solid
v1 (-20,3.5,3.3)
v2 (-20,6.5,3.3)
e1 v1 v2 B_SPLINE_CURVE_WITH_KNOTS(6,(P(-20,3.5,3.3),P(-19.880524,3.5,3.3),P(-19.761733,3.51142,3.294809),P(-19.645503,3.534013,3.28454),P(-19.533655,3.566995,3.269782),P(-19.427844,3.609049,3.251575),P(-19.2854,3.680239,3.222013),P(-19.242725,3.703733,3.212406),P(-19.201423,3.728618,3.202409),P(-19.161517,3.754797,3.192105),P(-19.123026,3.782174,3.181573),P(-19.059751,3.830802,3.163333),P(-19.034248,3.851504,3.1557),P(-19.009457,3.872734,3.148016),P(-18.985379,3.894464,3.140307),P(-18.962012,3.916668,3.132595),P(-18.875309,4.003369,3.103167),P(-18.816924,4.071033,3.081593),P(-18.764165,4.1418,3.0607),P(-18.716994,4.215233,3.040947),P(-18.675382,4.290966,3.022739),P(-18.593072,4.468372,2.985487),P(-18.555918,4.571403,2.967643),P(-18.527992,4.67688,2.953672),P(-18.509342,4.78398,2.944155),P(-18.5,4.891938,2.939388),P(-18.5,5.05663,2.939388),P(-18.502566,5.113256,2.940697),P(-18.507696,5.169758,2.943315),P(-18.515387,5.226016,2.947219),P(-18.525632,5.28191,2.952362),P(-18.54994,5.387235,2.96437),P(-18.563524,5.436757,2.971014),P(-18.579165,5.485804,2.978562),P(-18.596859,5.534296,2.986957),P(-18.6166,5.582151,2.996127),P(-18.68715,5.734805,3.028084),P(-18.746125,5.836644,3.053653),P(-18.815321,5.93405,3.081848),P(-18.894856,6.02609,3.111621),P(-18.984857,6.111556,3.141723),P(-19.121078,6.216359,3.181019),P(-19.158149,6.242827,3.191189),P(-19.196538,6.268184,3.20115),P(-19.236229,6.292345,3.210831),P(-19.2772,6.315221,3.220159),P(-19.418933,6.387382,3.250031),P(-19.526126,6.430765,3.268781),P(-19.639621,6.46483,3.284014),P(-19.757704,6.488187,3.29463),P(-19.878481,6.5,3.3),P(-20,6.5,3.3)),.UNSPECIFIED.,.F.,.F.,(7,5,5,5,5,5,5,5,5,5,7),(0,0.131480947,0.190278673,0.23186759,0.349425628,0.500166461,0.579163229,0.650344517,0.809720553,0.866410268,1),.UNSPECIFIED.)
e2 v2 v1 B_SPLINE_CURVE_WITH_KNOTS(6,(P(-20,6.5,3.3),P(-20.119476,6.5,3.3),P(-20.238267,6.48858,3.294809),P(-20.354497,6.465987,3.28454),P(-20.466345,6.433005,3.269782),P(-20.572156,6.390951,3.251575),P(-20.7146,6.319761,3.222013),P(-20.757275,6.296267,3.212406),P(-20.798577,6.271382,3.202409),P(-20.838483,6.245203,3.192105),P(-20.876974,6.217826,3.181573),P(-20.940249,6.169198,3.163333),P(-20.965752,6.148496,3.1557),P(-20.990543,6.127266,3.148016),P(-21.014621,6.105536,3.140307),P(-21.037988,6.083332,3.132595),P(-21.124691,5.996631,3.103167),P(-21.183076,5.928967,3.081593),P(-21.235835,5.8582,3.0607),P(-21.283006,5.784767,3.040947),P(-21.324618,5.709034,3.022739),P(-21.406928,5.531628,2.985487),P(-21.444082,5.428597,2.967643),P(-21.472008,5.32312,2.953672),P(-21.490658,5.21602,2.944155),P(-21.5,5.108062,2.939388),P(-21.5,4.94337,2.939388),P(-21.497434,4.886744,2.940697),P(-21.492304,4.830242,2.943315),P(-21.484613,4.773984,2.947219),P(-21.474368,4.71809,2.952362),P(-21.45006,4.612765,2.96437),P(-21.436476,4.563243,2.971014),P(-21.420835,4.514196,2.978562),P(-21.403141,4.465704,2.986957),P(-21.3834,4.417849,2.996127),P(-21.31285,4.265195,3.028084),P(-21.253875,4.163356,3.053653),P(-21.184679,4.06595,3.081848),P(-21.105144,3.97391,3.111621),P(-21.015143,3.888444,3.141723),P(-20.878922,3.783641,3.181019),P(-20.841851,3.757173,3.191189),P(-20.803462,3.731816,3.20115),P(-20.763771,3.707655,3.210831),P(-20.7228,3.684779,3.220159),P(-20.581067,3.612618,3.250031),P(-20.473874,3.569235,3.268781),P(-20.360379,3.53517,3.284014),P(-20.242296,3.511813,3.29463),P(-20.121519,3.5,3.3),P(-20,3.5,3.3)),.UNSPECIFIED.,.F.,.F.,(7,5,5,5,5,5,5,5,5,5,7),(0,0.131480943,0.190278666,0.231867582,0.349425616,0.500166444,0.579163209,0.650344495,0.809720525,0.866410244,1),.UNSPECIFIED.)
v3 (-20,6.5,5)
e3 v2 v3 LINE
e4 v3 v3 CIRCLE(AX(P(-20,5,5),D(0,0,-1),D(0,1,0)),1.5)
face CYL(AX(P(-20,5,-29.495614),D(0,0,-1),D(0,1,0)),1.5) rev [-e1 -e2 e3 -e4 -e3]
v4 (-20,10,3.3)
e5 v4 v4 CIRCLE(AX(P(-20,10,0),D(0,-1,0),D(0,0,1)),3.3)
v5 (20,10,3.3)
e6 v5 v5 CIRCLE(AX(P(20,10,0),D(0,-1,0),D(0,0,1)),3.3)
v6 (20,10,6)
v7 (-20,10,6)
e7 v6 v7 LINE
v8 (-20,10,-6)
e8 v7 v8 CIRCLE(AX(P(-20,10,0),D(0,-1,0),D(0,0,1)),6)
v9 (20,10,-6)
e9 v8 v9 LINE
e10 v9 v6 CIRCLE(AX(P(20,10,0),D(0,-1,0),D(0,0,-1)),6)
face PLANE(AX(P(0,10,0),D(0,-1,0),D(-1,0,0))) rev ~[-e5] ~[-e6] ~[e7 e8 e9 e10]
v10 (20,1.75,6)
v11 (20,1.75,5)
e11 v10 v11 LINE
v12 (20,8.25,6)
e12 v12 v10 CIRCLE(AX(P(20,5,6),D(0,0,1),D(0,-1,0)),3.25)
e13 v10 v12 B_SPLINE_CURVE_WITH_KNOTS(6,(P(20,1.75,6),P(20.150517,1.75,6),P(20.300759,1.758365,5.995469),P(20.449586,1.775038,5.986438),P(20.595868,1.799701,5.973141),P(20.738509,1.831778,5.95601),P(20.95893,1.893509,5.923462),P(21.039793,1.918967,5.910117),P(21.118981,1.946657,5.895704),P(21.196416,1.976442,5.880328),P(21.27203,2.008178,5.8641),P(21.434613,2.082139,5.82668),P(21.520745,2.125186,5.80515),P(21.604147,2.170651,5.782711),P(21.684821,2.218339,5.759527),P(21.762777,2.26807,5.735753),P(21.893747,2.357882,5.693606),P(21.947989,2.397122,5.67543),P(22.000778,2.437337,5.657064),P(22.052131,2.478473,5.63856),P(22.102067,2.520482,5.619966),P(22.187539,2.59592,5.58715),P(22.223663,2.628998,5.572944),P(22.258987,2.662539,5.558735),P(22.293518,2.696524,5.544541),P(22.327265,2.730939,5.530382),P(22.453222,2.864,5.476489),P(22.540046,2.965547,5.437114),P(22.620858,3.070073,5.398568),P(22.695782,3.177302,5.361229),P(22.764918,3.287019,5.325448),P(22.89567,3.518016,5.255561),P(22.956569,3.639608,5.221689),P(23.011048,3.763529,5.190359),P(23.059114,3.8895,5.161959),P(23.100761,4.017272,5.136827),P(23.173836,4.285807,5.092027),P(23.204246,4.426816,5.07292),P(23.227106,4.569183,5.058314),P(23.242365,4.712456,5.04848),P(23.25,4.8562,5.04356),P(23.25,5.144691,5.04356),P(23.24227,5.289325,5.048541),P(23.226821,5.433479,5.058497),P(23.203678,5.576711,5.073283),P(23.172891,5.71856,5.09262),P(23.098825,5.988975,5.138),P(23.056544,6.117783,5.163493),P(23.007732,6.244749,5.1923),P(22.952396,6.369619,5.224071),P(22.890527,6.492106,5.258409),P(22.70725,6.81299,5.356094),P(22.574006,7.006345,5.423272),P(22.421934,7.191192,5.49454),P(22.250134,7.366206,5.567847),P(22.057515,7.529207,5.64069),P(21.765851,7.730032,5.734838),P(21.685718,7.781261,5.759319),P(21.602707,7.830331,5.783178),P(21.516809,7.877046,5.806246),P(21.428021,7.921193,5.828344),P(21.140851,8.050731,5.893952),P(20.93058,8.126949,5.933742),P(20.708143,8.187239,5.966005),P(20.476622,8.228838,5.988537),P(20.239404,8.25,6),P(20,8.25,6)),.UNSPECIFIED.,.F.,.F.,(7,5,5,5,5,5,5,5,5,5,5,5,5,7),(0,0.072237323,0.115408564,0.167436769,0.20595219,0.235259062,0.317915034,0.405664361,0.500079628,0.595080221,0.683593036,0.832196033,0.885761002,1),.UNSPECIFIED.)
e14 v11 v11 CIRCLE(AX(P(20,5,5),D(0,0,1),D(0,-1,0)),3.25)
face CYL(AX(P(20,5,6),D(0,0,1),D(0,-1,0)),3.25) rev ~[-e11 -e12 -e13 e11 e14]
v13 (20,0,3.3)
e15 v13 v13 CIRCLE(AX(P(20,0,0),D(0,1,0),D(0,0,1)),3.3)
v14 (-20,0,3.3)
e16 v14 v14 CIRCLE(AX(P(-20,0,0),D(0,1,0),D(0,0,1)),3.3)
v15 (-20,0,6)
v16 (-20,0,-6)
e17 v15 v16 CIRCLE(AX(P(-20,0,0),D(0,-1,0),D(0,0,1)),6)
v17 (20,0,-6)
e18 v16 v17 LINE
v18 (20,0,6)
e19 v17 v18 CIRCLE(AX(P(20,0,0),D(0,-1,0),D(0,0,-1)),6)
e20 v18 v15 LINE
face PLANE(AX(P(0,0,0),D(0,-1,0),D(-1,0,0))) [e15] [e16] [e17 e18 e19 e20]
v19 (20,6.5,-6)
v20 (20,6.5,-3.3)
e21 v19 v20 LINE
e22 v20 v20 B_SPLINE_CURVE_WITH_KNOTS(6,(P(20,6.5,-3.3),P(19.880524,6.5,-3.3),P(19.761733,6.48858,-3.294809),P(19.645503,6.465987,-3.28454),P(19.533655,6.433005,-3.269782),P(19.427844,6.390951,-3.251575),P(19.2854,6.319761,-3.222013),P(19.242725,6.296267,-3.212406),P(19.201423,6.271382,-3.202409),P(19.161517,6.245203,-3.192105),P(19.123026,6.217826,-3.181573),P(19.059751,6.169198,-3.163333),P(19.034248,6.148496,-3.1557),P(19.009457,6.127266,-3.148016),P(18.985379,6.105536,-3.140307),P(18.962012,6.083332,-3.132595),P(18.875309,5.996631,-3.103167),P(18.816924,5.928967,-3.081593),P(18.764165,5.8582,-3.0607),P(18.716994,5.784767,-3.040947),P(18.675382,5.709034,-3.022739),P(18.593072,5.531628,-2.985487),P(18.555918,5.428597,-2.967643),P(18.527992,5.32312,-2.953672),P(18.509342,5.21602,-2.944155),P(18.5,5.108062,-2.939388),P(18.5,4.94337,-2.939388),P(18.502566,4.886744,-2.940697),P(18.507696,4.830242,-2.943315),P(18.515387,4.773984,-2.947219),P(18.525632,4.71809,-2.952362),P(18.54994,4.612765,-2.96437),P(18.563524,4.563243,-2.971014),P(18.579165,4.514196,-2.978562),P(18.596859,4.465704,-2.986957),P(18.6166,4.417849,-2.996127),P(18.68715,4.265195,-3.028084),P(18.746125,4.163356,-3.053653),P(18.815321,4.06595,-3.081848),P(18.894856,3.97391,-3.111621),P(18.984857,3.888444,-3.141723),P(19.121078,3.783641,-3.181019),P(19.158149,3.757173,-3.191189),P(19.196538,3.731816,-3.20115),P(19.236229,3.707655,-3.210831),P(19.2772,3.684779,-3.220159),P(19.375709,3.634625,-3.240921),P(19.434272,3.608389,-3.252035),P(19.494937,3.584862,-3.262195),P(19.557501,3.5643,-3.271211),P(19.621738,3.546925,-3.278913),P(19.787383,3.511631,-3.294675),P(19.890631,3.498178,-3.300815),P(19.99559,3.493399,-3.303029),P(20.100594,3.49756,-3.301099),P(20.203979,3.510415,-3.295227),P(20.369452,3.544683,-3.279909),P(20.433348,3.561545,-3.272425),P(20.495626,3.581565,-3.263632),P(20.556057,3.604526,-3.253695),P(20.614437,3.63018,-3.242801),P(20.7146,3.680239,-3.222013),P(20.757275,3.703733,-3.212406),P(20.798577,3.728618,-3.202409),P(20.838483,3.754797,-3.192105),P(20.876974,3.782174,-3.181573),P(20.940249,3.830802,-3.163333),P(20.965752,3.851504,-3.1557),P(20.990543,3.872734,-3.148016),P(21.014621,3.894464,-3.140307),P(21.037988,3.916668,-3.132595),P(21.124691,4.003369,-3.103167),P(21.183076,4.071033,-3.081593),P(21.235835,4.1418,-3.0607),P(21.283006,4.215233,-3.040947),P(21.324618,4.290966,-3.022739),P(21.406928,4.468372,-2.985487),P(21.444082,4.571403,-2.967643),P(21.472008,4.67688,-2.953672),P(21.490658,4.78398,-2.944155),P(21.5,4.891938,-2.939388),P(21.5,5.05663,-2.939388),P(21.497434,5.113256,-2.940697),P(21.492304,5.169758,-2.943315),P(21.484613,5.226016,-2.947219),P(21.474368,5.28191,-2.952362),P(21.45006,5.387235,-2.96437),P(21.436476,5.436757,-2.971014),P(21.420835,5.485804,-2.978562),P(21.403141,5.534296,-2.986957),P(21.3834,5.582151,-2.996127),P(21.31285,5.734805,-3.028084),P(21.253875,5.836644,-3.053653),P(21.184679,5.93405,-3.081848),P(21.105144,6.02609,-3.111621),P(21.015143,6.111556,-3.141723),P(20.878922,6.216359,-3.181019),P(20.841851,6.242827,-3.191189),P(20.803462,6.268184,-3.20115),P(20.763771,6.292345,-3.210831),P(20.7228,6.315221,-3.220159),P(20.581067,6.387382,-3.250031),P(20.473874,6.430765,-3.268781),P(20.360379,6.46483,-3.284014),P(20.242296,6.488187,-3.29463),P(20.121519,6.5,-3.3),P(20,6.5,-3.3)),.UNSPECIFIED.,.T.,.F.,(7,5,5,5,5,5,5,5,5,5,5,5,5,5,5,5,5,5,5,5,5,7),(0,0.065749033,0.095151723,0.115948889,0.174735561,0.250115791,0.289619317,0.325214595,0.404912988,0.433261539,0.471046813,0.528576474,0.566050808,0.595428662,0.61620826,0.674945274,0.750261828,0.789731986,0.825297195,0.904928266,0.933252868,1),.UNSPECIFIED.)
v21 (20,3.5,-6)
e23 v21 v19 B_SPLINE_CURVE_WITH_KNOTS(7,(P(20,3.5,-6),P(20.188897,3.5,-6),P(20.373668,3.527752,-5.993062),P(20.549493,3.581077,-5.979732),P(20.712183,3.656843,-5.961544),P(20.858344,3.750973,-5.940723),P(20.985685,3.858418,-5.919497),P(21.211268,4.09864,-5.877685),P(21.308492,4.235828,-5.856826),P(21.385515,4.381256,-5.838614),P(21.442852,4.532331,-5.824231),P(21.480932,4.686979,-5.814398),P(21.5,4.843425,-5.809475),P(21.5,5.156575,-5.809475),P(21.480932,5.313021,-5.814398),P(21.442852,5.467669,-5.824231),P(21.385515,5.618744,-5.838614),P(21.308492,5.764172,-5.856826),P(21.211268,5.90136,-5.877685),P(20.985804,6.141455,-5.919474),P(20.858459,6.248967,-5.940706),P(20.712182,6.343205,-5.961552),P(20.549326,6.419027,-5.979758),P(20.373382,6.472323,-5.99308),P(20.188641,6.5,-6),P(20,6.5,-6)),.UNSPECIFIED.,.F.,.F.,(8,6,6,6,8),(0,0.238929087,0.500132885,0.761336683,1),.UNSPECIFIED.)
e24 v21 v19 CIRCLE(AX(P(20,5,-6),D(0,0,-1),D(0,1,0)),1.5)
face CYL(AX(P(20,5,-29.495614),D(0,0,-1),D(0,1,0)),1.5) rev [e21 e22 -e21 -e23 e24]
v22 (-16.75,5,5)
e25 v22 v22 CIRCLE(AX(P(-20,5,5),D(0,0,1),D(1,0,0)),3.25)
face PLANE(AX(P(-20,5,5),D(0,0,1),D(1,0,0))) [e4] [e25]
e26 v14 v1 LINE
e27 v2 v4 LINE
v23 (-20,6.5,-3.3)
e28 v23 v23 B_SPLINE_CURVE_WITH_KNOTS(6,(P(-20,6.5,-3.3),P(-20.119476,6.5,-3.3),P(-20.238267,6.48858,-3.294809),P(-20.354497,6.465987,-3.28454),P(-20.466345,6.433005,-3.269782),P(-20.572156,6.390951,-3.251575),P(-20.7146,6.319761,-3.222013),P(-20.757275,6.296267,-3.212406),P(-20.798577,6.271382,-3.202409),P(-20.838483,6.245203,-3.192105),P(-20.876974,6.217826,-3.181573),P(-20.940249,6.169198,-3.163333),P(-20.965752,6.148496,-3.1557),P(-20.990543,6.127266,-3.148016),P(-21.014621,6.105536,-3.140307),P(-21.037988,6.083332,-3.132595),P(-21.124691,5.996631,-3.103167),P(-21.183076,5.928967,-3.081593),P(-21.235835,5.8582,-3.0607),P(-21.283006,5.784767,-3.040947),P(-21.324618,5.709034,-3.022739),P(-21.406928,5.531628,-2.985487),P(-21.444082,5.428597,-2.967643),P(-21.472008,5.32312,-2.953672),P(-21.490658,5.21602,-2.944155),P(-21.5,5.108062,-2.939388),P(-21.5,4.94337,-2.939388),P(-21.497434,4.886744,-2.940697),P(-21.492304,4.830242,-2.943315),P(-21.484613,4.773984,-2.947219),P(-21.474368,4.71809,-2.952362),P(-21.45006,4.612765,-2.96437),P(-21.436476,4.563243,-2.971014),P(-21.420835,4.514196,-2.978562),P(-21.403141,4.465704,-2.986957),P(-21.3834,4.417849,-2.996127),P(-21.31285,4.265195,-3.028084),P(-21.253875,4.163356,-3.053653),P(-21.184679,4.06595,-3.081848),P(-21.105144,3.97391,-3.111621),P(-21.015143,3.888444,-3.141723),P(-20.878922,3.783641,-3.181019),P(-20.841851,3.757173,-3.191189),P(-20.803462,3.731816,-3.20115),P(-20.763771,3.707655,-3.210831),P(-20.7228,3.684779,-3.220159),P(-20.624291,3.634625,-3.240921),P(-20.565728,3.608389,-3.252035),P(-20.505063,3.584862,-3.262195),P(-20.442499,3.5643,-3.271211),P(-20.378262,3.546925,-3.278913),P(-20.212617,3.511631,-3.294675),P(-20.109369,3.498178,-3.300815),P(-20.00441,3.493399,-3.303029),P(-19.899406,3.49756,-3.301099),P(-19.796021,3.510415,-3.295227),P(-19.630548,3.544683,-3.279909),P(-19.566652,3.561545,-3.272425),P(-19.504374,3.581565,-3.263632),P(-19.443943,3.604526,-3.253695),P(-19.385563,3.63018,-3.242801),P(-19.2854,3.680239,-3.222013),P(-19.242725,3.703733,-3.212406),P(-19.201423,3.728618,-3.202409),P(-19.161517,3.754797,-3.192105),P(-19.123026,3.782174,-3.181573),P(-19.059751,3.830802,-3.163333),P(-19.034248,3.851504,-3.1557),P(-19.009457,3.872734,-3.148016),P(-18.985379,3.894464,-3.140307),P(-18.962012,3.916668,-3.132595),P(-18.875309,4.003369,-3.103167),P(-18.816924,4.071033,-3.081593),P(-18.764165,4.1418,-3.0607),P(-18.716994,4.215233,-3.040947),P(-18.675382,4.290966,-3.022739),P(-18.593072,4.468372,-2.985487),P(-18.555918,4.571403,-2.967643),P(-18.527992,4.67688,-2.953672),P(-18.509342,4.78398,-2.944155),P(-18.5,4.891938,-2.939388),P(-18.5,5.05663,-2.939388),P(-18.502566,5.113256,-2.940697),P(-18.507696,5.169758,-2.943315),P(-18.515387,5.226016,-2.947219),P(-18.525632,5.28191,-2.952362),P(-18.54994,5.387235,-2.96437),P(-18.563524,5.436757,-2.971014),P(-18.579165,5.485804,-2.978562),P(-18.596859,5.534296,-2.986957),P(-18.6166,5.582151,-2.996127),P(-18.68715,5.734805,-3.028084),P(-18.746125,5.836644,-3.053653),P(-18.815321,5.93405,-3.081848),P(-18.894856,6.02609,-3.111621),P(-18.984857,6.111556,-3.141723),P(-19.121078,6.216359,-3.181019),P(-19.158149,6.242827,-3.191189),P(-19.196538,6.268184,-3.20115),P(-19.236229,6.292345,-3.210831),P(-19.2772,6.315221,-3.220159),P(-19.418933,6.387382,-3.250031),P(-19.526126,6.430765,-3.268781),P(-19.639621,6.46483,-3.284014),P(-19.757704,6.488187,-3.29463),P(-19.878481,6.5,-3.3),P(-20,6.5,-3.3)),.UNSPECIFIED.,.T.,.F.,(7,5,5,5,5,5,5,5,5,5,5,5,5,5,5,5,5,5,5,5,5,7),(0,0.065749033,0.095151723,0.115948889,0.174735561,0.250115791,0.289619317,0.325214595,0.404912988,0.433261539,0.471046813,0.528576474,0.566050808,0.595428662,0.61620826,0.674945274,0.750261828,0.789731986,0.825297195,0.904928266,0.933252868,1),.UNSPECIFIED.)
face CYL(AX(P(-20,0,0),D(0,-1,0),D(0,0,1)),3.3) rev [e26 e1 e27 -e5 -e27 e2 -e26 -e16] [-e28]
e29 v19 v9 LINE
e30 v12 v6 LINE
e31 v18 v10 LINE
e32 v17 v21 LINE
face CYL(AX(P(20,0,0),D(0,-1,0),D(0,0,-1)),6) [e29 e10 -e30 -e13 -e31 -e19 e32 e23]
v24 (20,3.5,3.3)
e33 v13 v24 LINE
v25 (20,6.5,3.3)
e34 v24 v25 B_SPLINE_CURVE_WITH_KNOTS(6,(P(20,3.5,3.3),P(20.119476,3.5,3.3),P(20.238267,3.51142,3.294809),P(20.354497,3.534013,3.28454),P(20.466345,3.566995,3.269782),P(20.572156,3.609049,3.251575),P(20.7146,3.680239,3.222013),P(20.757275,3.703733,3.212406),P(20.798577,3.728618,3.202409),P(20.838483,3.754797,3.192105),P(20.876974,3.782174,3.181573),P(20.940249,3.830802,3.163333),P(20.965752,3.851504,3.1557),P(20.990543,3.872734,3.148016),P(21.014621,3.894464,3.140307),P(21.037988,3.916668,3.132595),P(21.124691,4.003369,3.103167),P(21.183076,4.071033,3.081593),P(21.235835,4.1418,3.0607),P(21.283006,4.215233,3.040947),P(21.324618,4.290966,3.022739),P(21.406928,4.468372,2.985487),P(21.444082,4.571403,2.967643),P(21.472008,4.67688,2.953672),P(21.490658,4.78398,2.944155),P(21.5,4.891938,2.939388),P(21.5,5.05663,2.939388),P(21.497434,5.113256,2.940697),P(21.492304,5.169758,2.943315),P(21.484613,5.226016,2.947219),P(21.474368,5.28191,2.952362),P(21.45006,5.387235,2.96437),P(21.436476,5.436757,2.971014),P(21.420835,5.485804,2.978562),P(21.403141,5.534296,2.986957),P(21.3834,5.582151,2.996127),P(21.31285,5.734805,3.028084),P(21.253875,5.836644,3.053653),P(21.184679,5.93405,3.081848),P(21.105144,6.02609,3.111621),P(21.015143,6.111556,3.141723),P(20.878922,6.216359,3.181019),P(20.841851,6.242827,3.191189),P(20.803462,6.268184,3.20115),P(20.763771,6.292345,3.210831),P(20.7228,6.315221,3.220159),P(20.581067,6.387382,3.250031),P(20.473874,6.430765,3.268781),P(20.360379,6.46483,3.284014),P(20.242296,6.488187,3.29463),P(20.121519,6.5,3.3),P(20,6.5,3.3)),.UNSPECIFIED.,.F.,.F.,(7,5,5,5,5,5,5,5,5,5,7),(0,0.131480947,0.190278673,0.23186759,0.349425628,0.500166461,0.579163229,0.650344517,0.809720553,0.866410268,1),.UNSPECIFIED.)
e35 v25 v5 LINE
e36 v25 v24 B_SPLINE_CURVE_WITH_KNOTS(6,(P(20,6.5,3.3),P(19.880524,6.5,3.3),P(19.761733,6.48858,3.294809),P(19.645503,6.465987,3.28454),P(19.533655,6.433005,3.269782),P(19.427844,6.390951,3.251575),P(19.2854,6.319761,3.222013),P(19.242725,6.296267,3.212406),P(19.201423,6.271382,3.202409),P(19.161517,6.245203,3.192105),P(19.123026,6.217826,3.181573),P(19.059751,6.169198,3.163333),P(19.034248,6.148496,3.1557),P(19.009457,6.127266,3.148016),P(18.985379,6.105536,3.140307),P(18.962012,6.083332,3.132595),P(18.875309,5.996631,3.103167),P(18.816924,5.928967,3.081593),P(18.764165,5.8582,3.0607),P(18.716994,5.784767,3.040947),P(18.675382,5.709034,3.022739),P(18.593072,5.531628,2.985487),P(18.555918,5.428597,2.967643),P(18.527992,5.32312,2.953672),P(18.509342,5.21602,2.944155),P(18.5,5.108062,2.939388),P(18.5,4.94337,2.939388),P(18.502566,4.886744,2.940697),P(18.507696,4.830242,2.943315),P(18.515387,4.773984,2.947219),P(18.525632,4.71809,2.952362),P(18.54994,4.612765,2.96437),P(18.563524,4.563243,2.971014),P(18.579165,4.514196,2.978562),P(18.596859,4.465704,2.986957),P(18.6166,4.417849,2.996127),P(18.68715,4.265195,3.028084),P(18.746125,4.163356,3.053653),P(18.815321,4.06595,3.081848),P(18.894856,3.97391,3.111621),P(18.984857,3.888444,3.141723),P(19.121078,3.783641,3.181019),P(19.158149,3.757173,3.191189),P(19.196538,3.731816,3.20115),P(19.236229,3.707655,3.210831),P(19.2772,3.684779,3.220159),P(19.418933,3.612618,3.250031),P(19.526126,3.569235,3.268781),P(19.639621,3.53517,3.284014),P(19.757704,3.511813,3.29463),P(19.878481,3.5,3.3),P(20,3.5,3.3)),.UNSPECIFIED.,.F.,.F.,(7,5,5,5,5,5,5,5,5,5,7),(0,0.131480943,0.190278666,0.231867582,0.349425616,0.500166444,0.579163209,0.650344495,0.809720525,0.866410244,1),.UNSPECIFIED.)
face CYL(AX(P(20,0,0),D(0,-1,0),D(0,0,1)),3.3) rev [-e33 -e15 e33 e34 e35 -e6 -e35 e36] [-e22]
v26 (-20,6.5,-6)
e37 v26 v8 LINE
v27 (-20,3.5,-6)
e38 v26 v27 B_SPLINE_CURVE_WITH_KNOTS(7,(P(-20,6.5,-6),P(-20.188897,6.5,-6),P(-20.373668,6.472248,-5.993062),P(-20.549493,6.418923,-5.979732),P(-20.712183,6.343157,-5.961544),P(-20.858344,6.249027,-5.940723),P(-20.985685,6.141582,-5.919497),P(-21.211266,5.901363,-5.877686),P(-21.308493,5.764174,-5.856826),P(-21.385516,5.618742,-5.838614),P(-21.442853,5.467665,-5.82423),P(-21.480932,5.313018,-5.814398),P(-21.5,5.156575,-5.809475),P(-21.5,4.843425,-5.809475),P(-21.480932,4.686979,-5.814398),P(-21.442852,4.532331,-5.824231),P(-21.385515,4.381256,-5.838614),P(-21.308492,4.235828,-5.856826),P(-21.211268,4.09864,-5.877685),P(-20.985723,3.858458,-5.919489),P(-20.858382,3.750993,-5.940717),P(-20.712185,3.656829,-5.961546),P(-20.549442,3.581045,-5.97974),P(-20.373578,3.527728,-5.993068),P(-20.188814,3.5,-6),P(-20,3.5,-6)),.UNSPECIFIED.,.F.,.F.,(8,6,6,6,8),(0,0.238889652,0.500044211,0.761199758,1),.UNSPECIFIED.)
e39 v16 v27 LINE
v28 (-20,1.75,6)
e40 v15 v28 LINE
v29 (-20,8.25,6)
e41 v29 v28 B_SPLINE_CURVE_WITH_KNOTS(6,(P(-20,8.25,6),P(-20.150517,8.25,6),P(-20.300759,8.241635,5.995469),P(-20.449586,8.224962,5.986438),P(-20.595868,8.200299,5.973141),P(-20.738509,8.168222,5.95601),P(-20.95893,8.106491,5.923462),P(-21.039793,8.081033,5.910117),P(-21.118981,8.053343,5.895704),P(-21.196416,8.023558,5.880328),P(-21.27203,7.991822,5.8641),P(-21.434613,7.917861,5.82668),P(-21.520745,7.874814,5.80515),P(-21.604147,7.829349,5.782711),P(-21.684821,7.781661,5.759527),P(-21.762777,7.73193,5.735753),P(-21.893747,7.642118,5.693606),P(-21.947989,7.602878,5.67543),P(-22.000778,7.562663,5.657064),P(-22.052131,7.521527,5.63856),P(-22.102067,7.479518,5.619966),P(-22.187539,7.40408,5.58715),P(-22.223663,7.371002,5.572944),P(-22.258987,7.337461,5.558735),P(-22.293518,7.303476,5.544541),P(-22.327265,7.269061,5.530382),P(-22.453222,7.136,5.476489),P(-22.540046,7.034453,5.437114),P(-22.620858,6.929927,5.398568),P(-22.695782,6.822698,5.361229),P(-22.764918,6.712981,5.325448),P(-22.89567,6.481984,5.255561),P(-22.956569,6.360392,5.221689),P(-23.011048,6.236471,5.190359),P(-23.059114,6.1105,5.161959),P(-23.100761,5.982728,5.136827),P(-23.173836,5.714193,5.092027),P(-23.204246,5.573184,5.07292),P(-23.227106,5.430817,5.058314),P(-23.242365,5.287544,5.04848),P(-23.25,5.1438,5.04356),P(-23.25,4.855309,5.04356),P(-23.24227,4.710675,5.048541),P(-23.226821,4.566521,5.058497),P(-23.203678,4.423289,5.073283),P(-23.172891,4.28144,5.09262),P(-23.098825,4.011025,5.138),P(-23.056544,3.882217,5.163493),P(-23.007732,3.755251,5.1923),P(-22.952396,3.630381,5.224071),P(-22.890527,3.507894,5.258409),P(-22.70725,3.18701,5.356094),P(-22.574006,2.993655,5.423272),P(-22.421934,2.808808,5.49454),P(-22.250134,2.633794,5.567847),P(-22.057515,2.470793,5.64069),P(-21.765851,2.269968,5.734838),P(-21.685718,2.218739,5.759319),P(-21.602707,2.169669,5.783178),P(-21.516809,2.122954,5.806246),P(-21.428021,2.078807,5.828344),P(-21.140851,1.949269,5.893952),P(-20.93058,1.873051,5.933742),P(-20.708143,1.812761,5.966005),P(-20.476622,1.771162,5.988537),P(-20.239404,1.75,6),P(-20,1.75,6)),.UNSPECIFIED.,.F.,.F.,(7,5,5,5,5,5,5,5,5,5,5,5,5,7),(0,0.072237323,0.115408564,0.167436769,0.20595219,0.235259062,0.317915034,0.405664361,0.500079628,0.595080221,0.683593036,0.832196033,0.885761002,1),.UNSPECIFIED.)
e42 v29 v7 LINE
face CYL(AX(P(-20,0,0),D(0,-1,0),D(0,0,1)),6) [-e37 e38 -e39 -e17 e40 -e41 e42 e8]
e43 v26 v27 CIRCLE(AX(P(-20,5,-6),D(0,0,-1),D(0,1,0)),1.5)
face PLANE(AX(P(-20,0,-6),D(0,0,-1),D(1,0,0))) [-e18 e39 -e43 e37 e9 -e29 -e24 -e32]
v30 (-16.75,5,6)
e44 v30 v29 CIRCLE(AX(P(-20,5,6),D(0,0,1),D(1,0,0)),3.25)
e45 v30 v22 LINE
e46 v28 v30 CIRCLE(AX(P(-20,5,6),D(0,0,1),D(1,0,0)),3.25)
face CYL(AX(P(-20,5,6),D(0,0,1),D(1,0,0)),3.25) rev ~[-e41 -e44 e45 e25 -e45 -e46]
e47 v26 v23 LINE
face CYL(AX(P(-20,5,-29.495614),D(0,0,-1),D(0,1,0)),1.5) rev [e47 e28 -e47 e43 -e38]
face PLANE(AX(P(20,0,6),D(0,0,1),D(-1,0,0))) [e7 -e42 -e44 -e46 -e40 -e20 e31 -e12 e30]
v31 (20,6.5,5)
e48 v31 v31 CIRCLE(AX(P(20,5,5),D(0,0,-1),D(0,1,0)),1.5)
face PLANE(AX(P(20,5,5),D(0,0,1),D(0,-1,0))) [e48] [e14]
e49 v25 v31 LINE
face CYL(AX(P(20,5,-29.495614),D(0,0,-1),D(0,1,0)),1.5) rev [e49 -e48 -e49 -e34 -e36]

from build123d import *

# Parameters (mm, degrees)
SALIENTE_EXTRUIR1_DEPTH    = 10
CROQUIS2_R                 = 3.3
CORTAR_EXTRUIR1_DEPTH      = 29.495613698
CORTAR_EXTRUIR2_DEPTH      = 29.495613698
CORTAR_EXTRUIR2_DEPTH_BACK = 29.495613698
CROQUIS3_R                 = 1.5
CROQUIS4_R                 = 3.25
CORTAR_EXTRUIR3_DEPTH      = 1


with BuildPart() as part:
    # Croquis1 → Saliente-Extruir1 (new body)
    with BuildSketch(Plane(origin=(0, 0, 0), x_dir=(1, 0, 0), z_dir=(0, 1, 0))):
        with BuildLine():
            Line((-20, 6), (20, 6))
            ThreePointArc((20, 6), (26, 0), (20, -6))
            Line((20, -6), (-20, -6))
            ThreePointArc((-20, -6), (-26, 0), (-20, 6))
        make_face()
    extrude(amount=SALIENTE_EXTRUIR1_DEPTH)

    # Croquis2 → Cortar-Extruir1 (cut, through all)
    with BuildSketch(Plane(origin=(0, 0, 0), x_dir=(1, 0, 0), z_dir=(0, 1, 0))):
        with Locations(Location((-20, 0, 0), (0, 0, 270))):
            Circle(CROQUIS2_R)
        with Locations(Location((20, 0, 0), (0, 0, 270))):
            Circle(CROQUIS2_R)
    extrude(amount=CORTAR_EXTRUIR1_DEPTH, mode=Mode.SUBTRACT)

    # Croquis3 → Cortar-Extruir2 (cut, two sides: drawn at the far end of the back side and taken through both)
    with BuildSketch(Plane.XY.offset(-CORTAR_EXTRUIR2_DEPTH_BACK)):
        with Locations(Location((-20, 5, 0), (0, 0, 89.999999997))):
            Circle(CROQUIS3_R)
        with Locations(Location((20, 5, 0), (0, 0, 89.999999997))):
            Circle(CROQUIS3_R)
    extrude(amount=CORTAR_EXTRUIR2_DEPTH + CORTAR_EXTRUIR2_DEPTH_BACK, mode=Mode.SUBTRACT)

    # Croquis4 → Cortar-Extruir3 (cut)
    with BuildSketch(Plane.XY.offset(6)):
        with Locations((-20, 5)):
            Circle(CROQUIS4_R)
        with Locations(Location((20, 5, 0), (0, 0, 270.000000001))):
            Circle(CROQUIS4_R)
    extrude(amount=-CORTAR_EXTRUIR3_DEPTH, mode=Mode.SUBTRACT)


solid = part.part
